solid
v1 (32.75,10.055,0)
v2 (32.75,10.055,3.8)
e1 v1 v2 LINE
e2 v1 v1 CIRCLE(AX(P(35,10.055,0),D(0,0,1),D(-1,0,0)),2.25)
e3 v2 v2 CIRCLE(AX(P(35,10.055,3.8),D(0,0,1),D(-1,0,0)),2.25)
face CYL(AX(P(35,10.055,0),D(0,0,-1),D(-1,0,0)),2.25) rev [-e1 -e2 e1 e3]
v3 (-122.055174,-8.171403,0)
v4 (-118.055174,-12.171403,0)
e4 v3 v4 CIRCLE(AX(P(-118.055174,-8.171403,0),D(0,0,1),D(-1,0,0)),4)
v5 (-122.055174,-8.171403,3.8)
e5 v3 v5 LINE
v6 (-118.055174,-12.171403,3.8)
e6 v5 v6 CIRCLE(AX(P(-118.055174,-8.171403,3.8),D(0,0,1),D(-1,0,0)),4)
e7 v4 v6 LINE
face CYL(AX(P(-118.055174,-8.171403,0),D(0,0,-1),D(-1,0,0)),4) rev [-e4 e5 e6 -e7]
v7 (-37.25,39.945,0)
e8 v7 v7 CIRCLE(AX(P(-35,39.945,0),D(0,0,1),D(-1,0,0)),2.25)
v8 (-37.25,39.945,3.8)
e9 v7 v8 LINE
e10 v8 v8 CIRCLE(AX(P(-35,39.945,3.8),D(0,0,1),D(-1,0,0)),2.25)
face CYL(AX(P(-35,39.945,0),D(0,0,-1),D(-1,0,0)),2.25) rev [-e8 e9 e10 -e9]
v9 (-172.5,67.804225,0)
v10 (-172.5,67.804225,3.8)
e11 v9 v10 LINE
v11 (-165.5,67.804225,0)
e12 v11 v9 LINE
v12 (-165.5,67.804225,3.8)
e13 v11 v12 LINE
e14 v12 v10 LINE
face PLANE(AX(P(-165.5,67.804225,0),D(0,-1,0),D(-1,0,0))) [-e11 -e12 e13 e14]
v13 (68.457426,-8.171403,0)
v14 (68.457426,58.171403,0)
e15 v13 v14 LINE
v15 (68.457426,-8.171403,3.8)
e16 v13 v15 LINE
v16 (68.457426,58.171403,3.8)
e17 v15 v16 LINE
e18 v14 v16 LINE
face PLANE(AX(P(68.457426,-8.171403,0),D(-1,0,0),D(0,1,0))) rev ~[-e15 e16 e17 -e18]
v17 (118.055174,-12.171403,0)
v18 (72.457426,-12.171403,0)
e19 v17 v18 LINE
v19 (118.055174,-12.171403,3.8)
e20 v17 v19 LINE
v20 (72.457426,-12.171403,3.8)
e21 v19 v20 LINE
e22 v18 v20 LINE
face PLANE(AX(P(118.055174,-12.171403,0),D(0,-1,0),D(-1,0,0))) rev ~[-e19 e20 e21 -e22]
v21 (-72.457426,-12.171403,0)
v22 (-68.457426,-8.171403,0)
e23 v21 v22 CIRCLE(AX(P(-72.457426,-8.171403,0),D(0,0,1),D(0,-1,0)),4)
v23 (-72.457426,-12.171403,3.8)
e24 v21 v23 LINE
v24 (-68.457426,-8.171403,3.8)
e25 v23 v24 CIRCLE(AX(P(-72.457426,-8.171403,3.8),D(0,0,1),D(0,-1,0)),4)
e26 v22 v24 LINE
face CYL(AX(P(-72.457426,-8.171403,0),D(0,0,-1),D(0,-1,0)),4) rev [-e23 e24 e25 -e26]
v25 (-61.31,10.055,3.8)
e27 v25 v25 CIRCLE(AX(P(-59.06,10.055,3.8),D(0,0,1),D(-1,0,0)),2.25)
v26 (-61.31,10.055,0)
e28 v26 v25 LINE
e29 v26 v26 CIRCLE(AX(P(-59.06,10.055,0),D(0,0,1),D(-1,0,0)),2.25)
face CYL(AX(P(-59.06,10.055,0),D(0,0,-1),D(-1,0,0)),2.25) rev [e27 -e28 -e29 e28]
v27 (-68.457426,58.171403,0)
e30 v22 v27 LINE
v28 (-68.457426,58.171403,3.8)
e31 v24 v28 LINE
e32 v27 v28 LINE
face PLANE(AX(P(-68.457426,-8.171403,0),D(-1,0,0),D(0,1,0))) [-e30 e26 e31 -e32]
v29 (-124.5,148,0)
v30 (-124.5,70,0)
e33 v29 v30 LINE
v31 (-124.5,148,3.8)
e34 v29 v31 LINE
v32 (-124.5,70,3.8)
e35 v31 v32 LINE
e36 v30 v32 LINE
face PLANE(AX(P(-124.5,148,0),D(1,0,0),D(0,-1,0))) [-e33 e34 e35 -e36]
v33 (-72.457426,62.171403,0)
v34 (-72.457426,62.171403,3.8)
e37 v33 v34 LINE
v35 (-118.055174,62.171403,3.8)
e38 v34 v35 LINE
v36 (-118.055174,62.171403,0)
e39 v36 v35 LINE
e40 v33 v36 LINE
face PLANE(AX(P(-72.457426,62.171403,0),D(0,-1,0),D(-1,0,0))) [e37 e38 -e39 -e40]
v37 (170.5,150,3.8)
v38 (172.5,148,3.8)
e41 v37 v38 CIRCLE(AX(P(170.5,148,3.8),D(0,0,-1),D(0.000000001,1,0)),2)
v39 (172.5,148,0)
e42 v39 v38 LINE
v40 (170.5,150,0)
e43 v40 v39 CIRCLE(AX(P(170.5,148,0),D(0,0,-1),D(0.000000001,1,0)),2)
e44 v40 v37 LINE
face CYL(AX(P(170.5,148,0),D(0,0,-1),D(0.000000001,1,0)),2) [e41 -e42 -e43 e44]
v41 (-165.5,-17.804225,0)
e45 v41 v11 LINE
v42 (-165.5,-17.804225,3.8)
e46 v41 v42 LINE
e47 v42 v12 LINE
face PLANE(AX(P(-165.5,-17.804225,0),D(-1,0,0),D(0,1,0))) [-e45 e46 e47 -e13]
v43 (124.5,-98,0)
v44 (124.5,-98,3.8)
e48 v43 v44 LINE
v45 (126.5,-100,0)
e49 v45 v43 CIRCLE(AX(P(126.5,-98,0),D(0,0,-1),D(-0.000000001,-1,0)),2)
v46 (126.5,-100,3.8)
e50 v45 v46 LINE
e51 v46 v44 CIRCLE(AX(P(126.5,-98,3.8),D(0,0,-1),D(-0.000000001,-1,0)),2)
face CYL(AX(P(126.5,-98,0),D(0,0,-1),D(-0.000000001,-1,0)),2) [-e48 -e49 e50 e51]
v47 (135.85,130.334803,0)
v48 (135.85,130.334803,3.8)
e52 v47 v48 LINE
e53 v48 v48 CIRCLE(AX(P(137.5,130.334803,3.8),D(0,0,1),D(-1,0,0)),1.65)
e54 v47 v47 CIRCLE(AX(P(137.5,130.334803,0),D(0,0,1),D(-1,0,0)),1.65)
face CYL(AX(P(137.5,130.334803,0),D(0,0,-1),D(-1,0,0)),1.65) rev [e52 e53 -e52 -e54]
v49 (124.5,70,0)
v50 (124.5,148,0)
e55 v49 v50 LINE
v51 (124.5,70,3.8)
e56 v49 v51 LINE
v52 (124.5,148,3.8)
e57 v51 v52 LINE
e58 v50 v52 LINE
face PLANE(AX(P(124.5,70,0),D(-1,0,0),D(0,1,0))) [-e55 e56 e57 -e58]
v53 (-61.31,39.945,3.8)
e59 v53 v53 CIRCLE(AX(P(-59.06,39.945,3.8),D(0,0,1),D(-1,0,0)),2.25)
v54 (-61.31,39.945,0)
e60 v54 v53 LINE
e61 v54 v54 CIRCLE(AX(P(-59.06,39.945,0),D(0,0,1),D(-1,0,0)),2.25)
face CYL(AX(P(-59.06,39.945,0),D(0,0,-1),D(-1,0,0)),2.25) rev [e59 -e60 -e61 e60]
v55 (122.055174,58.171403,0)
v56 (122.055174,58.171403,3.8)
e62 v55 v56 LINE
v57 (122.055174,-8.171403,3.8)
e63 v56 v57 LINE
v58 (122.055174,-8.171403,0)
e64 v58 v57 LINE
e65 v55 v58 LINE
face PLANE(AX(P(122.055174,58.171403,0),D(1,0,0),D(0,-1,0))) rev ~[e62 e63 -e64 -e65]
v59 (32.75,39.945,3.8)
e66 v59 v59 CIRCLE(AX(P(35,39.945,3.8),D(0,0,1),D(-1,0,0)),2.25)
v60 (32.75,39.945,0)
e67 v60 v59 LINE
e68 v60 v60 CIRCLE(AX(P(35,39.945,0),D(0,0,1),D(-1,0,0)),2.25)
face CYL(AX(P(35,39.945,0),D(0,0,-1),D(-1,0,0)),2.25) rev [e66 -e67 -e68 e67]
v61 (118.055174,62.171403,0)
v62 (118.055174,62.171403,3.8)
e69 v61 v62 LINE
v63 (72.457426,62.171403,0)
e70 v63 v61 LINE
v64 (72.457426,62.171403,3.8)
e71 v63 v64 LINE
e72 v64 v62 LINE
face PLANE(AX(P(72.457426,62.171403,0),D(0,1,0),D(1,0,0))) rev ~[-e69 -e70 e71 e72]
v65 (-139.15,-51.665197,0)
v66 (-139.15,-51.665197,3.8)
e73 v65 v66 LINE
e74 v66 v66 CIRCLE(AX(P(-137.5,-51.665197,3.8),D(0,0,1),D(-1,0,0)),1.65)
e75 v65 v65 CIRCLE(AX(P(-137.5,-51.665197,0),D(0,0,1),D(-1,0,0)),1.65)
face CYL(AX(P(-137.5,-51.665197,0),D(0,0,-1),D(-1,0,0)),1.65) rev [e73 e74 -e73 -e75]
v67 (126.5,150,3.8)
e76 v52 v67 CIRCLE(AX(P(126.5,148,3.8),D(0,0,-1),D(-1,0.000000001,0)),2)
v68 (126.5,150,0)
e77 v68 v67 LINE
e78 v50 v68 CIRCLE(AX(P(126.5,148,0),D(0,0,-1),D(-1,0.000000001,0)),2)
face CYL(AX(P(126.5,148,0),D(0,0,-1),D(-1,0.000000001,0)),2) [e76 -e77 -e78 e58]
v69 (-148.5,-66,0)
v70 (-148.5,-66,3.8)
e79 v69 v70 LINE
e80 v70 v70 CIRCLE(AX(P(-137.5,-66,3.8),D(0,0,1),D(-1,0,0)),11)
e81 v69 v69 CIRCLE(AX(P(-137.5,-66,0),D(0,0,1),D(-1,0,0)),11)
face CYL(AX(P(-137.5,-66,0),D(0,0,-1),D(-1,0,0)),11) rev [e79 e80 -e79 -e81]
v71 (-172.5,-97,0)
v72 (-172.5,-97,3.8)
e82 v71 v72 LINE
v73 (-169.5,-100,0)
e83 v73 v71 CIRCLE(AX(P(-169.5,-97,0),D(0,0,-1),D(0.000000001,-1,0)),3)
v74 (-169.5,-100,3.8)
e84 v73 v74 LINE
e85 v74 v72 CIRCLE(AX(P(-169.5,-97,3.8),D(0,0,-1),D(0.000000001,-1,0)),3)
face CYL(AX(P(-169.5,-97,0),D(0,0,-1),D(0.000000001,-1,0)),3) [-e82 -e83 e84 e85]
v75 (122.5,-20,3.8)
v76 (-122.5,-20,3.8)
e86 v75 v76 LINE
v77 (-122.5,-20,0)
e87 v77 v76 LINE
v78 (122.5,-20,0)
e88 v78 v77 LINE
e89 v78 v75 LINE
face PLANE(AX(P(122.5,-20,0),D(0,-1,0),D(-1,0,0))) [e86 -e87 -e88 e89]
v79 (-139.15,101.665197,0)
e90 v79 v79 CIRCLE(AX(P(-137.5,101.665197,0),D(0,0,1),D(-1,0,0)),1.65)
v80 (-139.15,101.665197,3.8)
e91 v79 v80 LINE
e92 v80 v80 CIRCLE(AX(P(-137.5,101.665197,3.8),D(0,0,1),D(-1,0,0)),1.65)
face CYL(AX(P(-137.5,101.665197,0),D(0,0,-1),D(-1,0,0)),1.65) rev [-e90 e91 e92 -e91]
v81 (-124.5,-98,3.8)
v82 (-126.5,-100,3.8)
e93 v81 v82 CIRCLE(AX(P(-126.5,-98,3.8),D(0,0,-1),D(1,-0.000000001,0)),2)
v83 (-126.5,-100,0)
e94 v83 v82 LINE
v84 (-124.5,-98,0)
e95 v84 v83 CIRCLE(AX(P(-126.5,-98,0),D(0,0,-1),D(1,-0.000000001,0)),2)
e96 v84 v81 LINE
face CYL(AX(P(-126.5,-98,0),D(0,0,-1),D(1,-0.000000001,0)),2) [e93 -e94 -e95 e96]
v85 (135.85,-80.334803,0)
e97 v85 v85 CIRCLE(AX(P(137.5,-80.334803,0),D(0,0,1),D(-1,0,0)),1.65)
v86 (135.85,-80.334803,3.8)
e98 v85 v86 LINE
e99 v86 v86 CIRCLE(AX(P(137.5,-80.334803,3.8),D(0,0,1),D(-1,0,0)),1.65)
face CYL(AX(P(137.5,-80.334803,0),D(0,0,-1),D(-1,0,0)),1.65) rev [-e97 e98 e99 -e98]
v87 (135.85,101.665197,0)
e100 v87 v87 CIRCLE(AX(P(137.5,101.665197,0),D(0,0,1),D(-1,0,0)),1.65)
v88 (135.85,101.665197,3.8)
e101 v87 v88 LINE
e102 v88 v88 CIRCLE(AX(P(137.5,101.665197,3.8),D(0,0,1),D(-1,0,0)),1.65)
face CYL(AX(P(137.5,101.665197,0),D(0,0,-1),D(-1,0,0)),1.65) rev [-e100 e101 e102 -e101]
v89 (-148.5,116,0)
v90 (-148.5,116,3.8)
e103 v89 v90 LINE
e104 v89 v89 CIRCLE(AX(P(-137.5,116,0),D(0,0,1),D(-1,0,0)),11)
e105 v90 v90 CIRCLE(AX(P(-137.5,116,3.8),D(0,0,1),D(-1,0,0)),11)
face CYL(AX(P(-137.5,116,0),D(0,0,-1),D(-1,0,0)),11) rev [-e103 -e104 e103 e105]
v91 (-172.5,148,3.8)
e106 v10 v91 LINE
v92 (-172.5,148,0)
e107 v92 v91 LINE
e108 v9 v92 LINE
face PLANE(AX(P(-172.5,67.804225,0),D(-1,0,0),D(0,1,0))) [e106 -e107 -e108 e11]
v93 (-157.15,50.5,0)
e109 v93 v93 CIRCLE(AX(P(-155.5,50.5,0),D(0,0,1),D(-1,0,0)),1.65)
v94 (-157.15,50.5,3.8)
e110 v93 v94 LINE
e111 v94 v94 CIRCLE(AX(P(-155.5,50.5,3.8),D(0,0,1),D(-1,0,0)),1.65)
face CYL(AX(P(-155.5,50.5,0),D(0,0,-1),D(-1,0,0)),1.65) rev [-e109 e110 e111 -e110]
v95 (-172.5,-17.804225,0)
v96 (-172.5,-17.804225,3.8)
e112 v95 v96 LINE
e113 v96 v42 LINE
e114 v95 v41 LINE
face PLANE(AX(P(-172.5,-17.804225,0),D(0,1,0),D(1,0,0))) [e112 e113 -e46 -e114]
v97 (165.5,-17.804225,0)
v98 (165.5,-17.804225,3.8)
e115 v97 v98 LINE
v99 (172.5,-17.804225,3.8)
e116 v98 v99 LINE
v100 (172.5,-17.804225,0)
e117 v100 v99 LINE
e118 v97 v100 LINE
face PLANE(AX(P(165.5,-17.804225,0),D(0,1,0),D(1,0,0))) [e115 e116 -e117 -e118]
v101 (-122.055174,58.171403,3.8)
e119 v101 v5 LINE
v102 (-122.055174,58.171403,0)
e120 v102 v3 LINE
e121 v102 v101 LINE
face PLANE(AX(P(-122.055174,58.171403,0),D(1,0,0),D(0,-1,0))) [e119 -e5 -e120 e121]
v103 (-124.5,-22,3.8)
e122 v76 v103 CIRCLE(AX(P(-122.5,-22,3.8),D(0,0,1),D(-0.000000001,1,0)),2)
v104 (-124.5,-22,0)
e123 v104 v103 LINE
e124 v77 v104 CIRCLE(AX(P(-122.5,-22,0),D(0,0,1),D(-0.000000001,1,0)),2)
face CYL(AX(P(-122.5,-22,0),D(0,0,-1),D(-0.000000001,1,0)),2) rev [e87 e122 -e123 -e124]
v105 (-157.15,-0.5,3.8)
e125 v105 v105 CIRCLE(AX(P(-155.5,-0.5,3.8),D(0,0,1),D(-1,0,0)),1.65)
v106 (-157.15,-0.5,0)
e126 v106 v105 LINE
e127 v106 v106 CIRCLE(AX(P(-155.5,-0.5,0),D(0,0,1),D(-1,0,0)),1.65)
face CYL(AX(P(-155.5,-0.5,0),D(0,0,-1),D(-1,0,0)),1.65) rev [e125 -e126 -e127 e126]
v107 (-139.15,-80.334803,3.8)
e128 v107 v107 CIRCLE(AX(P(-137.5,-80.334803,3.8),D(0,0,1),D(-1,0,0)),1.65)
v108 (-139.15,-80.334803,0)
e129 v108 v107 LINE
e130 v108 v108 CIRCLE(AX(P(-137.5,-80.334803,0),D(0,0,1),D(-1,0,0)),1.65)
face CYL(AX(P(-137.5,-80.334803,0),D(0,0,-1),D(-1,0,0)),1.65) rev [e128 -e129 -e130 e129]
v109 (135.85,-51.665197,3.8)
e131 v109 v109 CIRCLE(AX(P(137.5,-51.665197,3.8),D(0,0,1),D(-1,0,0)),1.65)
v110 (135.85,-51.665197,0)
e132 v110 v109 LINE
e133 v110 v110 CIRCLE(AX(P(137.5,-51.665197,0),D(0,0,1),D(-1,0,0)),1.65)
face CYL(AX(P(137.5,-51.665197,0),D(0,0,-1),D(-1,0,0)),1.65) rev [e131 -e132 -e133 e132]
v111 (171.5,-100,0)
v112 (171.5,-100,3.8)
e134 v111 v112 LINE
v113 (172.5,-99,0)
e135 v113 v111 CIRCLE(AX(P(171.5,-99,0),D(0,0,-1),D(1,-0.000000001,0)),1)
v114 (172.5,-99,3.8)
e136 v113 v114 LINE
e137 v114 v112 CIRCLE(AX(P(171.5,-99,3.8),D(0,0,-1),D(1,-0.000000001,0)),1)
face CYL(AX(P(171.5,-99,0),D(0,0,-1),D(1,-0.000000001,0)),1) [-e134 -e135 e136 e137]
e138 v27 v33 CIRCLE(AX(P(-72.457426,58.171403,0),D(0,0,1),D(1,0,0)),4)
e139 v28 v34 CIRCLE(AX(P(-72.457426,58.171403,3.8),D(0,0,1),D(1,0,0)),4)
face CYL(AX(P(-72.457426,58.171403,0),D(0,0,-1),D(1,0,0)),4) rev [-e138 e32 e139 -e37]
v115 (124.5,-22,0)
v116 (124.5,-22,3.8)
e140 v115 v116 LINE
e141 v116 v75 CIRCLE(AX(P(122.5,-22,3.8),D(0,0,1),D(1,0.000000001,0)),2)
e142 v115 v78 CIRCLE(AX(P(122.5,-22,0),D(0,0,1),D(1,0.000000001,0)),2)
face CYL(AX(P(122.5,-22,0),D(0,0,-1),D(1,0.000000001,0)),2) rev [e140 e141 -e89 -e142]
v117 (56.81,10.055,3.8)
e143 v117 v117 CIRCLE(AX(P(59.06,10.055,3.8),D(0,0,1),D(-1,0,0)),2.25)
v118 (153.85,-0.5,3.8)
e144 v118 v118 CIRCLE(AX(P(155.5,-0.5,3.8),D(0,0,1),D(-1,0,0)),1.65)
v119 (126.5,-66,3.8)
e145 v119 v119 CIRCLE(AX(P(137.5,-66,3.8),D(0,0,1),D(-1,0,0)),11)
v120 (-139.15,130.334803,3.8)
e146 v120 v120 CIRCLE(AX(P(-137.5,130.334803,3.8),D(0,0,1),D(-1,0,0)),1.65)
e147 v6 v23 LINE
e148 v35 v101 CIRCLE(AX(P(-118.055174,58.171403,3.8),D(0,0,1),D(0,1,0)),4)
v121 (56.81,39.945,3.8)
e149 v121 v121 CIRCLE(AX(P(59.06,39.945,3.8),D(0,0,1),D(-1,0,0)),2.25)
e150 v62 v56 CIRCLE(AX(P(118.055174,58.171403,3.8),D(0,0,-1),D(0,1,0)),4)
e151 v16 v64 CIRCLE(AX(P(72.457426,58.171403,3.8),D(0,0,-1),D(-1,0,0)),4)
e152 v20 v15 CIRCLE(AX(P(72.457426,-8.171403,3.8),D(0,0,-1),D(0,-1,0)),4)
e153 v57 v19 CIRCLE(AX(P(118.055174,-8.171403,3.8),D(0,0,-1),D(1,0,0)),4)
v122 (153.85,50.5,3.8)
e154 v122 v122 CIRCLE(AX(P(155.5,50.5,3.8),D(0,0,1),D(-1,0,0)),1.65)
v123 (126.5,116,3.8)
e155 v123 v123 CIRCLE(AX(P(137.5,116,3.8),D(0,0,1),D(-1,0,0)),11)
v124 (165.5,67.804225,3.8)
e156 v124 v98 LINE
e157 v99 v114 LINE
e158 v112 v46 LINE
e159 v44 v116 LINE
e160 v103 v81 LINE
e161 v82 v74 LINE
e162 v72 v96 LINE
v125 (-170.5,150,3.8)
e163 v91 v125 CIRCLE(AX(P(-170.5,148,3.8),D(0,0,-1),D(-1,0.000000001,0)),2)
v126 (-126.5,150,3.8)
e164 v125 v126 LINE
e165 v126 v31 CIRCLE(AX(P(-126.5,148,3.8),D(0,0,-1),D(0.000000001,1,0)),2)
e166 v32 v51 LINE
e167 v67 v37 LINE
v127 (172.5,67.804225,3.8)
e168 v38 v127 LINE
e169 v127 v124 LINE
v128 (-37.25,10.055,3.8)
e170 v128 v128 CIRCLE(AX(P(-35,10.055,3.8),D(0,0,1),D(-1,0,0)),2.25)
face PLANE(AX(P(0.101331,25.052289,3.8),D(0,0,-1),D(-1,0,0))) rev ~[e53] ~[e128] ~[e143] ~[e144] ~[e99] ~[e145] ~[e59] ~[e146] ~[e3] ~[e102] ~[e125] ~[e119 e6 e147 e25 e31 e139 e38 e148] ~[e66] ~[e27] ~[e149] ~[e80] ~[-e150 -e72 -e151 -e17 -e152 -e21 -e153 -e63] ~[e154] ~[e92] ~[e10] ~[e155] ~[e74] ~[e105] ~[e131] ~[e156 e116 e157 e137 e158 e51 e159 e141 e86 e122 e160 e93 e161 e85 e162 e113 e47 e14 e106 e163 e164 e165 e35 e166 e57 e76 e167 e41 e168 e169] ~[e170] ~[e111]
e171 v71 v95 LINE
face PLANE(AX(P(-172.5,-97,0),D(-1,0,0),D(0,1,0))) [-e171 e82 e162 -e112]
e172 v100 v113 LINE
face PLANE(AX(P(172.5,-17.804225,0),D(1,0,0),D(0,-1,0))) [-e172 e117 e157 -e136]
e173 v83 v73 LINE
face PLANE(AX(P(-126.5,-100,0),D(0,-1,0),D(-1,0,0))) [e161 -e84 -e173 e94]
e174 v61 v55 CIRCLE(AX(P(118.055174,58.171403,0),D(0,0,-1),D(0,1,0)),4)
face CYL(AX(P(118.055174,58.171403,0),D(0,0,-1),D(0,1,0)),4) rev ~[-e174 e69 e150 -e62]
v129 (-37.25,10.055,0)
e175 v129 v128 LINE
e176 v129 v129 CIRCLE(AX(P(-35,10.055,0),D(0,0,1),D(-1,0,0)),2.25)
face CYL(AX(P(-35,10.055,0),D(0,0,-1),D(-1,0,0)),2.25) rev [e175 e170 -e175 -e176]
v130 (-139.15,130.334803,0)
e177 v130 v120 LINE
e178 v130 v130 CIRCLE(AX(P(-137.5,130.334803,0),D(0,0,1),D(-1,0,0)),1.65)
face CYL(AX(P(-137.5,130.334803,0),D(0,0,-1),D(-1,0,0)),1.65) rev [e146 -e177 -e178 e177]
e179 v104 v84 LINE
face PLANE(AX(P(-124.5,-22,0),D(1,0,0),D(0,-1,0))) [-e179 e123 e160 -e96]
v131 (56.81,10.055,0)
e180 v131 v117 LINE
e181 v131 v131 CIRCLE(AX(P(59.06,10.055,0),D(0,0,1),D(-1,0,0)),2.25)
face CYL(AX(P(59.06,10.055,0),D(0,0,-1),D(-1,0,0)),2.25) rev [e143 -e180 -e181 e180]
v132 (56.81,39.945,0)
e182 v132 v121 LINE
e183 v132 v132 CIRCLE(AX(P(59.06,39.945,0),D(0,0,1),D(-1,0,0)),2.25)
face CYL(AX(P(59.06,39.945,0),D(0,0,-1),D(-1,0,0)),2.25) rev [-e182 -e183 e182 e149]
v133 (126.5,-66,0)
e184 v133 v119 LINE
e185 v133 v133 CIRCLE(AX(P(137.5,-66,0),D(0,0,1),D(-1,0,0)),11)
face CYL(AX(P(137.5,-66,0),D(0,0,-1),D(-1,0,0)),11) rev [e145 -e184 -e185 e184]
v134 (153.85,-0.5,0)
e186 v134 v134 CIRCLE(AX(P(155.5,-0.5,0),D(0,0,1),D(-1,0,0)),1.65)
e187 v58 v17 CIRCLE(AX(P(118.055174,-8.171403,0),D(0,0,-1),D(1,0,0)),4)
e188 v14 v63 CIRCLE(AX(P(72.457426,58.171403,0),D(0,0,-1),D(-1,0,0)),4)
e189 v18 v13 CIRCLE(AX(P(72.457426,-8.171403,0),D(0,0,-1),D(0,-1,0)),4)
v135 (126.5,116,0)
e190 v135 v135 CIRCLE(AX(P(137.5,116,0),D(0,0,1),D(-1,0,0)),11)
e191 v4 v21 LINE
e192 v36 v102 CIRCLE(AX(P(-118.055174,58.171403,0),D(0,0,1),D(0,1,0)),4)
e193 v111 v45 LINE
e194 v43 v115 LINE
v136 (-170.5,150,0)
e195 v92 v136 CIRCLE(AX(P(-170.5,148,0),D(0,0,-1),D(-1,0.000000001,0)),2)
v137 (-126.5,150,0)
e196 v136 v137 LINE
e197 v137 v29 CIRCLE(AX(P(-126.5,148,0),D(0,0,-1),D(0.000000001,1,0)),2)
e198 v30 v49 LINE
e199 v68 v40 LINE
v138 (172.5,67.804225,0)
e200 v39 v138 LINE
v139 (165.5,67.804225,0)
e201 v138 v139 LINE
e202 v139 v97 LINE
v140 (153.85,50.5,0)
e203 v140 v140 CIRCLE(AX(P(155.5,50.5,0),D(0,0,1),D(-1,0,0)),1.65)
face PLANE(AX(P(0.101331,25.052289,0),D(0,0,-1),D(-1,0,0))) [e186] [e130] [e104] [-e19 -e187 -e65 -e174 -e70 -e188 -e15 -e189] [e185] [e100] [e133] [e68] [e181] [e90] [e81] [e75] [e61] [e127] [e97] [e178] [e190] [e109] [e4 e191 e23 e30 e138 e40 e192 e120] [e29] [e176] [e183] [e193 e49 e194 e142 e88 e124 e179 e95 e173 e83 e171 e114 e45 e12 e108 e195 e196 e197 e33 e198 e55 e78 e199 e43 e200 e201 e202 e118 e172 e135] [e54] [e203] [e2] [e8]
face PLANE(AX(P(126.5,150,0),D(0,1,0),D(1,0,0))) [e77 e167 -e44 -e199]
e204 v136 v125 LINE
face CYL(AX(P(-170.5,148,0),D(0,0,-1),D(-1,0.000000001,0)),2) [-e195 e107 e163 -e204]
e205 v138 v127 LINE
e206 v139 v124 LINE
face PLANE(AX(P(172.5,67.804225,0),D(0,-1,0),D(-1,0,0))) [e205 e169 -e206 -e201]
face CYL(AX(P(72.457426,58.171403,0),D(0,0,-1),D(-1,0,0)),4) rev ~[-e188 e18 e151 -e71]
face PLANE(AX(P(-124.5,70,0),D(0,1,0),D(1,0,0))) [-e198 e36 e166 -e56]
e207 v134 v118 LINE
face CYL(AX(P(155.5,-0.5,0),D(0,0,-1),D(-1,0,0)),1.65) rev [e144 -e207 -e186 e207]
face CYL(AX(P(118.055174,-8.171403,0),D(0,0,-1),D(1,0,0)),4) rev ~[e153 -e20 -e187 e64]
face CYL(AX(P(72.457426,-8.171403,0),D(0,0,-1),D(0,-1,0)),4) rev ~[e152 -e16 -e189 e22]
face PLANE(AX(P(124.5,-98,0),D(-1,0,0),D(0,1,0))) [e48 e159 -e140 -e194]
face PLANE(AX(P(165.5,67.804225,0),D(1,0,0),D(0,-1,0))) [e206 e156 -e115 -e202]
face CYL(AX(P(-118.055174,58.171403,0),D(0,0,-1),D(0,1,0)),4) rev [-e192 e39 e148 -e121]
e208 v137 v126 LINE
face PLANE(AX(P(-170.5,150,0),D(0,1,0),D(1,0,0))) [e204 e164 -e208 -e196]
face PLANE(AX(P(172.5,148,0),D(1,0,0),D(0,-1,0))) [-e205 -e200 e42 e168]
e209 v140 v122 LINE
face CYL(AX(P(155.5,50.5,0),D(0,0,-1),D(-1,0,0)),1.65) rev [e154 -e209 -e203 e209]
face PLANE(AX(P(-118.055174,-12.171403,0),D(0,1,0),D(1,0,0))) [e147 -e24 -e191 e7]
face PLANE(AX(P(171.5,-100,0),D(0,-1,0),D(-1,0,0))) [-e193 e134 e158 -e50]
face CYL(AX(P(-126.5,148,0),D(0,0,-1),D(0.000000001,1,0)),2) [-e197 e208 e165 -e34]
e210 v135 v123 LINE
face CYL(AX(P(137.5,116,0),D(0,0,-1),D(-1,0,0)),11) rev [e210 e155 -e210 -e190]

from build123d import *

# Parameters (mm, degrees)
SKETCH2_R           = 1.65
SKETCH2_R_2         = 11
SKETCH2_R_3         = 2.25
BOSS_EXTRUDE1_DEPTH = 3.8


with BuildPart() as part:
    # Sketch2 → Boss-Extrude1 (new body)
    with BuildSketch(Plane.XY):
        with BuildLine():
            Line((-170.5, 150), (-126.5, 150))
            ThreePointArc((-126.5, 150), (-125.085786438, 149.414213562), (-124.5, 148))
            Line((-124.5, 148), (-124.5, 70))
            Line((-124.5, 70), (124.5, 70))
            Line((124.5, 70), (124.5, 148))
            ThreePointArc((124.5, 148), (125.085786438, 149.414213562), (126.5, 150))
            Line((126.5, 150), (170.5, 150))
            ThreePointArc((170.5, 150), (171.914213562, 149.414213562), (172.5, 148))
            Line((172.5, 148), (172.5, 67.8042249))
            Line((172.5, 67.8042249), (165.5, 67.8042249))
            Line((165.5, 67.8042249), (165.5, -17.8042249))
            Line((165.5, -17.8042249), (172.5, -17.8042249))
            Line((172.5, -17.8042249), (172.5, -99))
            ThreePointArc((172.5, -99), (172.207106781, -99.707106781), (171.5, -100))
            Line((171.5, -100), (126.5, -100))
            ThreePointArc((126.5, -100), (125.085786438, -99.414213562), (124.5, -98))
            Line((124.5, -98), (124.5, -22))
            ThreePointArc((124.5, -22), (123.914213562, -20.585786438), (122.5, -20))
            Line((122.5, -20), (-122.5, -20))
            ThreePointArc((-122.5, -20), (-123.914213562, -20.585786438), (-124.5, -22))
            Line((-124.5, -22), (-124.5, -98))
            ThreePointArc((-124.5, -98), (-125.085786438, -99.414213562), (-126.5, -100))
            Line((-126.5, -100), (-169.5, -100))
            ThreePointArc((-169.5, -100), (-171.621320344, -99.121320344), (-172.5, -97))
            Line((-172.5, -97), (-172.5, -17.8042249))
            Line((-172.5, -17.8042249), (-165.5, -17.8042249))
            Line((-165.5, -17.8042249), (-165.5, 67.8042249))
            Line((-165.5, 67.8042249), (-172.5, 67.8042249))
            Line((-172.5, 67.8042249), (-172.5, 148))
            ThreePointArc((-172.5, 148), (-171.914213562, 149.414213562), (-170.5, 150))
        make_face()
        with Locations(Location((-137.5, 130.334802826, 0), (0, 0, 180))):
            Circle(SKETCH2_R, mode=Mode.SUBTRACT)
        with Locations(Location((-137.5, 101.665197174, 0), (0, 0, 180))):
            Circle(SKETCH2_R, mode=Mode.SUBTRACT)
        with Locations(Location((137.5, 130.334802826, 0), (0, 0, 180))):
            Circle(SKETCH2_R, mode=Mode.SUBTRACT)
        with Locations(Location((137.5, 101.665197174, 0), (0, 0, 180))):
            Circle(SKETCH2_R, mode=Mode.SUBTRACT)
        with Locations(Location((137.5, 116, 0), (0, 0, 180))):
            Circle(SKETCH2_R_2, mode=Mode.SUBTRACT)
        with Locations(Location((-137.5, 116, 0), (0, 0, 180))):
            Circle(SKETCH2_R_2, mode=Mode.SUBTRACT)
        with Locations(Location((155.5, -0.5, 0), (0, 0, 180))):
            Circle(SKETCH2_R, mode=Mode.SUBTRACT)
        with Locations(Location((155.5, 50.5, 0), (0, 0, 180))):
            Circle(SKETCH2_R, mode=Mode.SUBTRACT)
        with Locations(Location((-155.5, -0.5, 0), (0, 0, 180))):
            Circle(SKETCH2_R, mode=Mode.SUBTRACT)
        with Locations(Location((-155.5, 50.5, 0), (0, 0, 180))):
            Circle(SKETCH2_R, mode=Mode.SUBTRACT)
        with Locations(Location((-35, 10.055, 0), (0, 0, 180))):
            Circle(SKETCH2_R_3, mode=Mode.SUBTRACT)
        with Locations(Location((-35, 39.945, 0), (0, 0, 180))):
            Circle(SKETCH2_R_3, mode=Mode.SUBTRACT)
        with Locations(Location((-59.06, 39.945, 0), (0, 0, 180))):
            Circle(SKETCH2_R_3, mode=Mode.SUBTRACT)
        with Locations(Location((-59.06, 10.055, 0), (0, 0, 180))):
            Circle(SKETCH2_R_3, mode=Mode.SUBTRACT)
        with Locations(Location((59.06, 10.055, 0), (0, 0, 180))):
            Circle(SKETCH2_R_3, mode=Mode.SUBTRACT)
        with Locations(Location((35, 10.055, 0), (0, 0, 180))):
            Circle(SKETCH2_R_3, mode=Mode.SUBTRACT)
        with Locations(Location((35, 39.945, 0), (0, 0, 180))):
            Circle(SKETCH2_R_3, mode=Mode.SUBTRACT)
        with Locations(Location((59.06, 39.945, 0), (0, 0, 180))):
            Circle(SKETCH2_R_3, mode=Mode.SUBTRACT)
        with Locations(Location((137.5, -80.334802826, 0), (0, 0, 180))):
            Circle(SKETCH2_R, mode=Mode.SUBTRACT)
        with Locations(Location((137.5, -51.665197174, 0), (0, 0, 180))):
            Circle(SKETCH2_R, mode=Mode.SUBTRACT)
        with Locations(Location((137.5, -66, 0), (0, 0, 180))):
            Circle(SKETCH2_R_2, mode=Mode.SUBTRACT)
        with Locations(Location((-137.5, -66, 0), (0, 0, 180))):
            Circle(SKETCH2_R_2, mode=Mode.SUBTRACT)
        with Locations(Location((-137.5, -51.665197174, 0), (0, 0, 180))):
            Circle(SKETCH2_R, mode=Mode.SUBTRACT)
        with Locations(Location((-137.5, -80.334802826, 0), (0, 0, 180))):
            Circle(SKETCH2_R, mode=Mode.SUBTRACT)
        with BuildLine():
            Line((-72.45742566, 62.171403079), (-118.05517368, 62.171403079))
            ThreePointArc((-118.05517368, 62.171403079), (-120.883600805, 60.999830204), (-122.05517368, 58.171403079))
            Line((-122.05517368, 58.171403079), (-122.05517368, -8.171403079))
            ThreePointArc((-122.05517368, -8.171403079), (-120.883600805, -10.999830204), (-118.05517368, -12.171403079))
            Line((-118.05517368, -12.171403079), (-72.45742566, -12.171403079))
            ThreePointArc((-72.45742566, -12.171403079), (-69.628998535, -10.999830204), (-68.45742566, -8.171403079))
            Line((-68.45742566, -8.171403079), (-68.45742566, 58.171403079))
            ThreePointArc((-68.45742566, 58.171403079), (-69.628998535, 60.999830204), (-72.45742566, 62.171403079))
        make_face(mode=Mode.SUBTRACT)
        with BuildLine():
            Line((72.45742566, 62.171403079), (118.05517368, 62.171403079))
            ThreePointArc((118.05517368, 62.171403079), (120.883600805, 60.999830204), (122.05517368, 58.171403079))
            Line((122.05517368, 58.171403079), (122.05517368, -8.171403079))
            ThreePointArc((122.05517368, -8.171403079), (120.883600805, -10.999830204), (118.05517368, -12.171403079))
            Line((118.05517368, -12.171403079), (72.45742566, -12.171403079))
            ThreePointArc((72.45742566, -12.171403079), (69.628998535, -10.999830204), (68.45742566, -8.171403079))
            Line((68.45742566, -8.171403079), (68.45742566, 58.171403079))
            ThreePointArc((68.45742566, 58.171403079), (69.628998535, 60.999830204), (72.45742566, 62.171403079))
        make_face(mode=Mode.SUBTRACT)
    extrude(amount=BOSS_EXTRUDE1_DEPTH)


solid = part.part
